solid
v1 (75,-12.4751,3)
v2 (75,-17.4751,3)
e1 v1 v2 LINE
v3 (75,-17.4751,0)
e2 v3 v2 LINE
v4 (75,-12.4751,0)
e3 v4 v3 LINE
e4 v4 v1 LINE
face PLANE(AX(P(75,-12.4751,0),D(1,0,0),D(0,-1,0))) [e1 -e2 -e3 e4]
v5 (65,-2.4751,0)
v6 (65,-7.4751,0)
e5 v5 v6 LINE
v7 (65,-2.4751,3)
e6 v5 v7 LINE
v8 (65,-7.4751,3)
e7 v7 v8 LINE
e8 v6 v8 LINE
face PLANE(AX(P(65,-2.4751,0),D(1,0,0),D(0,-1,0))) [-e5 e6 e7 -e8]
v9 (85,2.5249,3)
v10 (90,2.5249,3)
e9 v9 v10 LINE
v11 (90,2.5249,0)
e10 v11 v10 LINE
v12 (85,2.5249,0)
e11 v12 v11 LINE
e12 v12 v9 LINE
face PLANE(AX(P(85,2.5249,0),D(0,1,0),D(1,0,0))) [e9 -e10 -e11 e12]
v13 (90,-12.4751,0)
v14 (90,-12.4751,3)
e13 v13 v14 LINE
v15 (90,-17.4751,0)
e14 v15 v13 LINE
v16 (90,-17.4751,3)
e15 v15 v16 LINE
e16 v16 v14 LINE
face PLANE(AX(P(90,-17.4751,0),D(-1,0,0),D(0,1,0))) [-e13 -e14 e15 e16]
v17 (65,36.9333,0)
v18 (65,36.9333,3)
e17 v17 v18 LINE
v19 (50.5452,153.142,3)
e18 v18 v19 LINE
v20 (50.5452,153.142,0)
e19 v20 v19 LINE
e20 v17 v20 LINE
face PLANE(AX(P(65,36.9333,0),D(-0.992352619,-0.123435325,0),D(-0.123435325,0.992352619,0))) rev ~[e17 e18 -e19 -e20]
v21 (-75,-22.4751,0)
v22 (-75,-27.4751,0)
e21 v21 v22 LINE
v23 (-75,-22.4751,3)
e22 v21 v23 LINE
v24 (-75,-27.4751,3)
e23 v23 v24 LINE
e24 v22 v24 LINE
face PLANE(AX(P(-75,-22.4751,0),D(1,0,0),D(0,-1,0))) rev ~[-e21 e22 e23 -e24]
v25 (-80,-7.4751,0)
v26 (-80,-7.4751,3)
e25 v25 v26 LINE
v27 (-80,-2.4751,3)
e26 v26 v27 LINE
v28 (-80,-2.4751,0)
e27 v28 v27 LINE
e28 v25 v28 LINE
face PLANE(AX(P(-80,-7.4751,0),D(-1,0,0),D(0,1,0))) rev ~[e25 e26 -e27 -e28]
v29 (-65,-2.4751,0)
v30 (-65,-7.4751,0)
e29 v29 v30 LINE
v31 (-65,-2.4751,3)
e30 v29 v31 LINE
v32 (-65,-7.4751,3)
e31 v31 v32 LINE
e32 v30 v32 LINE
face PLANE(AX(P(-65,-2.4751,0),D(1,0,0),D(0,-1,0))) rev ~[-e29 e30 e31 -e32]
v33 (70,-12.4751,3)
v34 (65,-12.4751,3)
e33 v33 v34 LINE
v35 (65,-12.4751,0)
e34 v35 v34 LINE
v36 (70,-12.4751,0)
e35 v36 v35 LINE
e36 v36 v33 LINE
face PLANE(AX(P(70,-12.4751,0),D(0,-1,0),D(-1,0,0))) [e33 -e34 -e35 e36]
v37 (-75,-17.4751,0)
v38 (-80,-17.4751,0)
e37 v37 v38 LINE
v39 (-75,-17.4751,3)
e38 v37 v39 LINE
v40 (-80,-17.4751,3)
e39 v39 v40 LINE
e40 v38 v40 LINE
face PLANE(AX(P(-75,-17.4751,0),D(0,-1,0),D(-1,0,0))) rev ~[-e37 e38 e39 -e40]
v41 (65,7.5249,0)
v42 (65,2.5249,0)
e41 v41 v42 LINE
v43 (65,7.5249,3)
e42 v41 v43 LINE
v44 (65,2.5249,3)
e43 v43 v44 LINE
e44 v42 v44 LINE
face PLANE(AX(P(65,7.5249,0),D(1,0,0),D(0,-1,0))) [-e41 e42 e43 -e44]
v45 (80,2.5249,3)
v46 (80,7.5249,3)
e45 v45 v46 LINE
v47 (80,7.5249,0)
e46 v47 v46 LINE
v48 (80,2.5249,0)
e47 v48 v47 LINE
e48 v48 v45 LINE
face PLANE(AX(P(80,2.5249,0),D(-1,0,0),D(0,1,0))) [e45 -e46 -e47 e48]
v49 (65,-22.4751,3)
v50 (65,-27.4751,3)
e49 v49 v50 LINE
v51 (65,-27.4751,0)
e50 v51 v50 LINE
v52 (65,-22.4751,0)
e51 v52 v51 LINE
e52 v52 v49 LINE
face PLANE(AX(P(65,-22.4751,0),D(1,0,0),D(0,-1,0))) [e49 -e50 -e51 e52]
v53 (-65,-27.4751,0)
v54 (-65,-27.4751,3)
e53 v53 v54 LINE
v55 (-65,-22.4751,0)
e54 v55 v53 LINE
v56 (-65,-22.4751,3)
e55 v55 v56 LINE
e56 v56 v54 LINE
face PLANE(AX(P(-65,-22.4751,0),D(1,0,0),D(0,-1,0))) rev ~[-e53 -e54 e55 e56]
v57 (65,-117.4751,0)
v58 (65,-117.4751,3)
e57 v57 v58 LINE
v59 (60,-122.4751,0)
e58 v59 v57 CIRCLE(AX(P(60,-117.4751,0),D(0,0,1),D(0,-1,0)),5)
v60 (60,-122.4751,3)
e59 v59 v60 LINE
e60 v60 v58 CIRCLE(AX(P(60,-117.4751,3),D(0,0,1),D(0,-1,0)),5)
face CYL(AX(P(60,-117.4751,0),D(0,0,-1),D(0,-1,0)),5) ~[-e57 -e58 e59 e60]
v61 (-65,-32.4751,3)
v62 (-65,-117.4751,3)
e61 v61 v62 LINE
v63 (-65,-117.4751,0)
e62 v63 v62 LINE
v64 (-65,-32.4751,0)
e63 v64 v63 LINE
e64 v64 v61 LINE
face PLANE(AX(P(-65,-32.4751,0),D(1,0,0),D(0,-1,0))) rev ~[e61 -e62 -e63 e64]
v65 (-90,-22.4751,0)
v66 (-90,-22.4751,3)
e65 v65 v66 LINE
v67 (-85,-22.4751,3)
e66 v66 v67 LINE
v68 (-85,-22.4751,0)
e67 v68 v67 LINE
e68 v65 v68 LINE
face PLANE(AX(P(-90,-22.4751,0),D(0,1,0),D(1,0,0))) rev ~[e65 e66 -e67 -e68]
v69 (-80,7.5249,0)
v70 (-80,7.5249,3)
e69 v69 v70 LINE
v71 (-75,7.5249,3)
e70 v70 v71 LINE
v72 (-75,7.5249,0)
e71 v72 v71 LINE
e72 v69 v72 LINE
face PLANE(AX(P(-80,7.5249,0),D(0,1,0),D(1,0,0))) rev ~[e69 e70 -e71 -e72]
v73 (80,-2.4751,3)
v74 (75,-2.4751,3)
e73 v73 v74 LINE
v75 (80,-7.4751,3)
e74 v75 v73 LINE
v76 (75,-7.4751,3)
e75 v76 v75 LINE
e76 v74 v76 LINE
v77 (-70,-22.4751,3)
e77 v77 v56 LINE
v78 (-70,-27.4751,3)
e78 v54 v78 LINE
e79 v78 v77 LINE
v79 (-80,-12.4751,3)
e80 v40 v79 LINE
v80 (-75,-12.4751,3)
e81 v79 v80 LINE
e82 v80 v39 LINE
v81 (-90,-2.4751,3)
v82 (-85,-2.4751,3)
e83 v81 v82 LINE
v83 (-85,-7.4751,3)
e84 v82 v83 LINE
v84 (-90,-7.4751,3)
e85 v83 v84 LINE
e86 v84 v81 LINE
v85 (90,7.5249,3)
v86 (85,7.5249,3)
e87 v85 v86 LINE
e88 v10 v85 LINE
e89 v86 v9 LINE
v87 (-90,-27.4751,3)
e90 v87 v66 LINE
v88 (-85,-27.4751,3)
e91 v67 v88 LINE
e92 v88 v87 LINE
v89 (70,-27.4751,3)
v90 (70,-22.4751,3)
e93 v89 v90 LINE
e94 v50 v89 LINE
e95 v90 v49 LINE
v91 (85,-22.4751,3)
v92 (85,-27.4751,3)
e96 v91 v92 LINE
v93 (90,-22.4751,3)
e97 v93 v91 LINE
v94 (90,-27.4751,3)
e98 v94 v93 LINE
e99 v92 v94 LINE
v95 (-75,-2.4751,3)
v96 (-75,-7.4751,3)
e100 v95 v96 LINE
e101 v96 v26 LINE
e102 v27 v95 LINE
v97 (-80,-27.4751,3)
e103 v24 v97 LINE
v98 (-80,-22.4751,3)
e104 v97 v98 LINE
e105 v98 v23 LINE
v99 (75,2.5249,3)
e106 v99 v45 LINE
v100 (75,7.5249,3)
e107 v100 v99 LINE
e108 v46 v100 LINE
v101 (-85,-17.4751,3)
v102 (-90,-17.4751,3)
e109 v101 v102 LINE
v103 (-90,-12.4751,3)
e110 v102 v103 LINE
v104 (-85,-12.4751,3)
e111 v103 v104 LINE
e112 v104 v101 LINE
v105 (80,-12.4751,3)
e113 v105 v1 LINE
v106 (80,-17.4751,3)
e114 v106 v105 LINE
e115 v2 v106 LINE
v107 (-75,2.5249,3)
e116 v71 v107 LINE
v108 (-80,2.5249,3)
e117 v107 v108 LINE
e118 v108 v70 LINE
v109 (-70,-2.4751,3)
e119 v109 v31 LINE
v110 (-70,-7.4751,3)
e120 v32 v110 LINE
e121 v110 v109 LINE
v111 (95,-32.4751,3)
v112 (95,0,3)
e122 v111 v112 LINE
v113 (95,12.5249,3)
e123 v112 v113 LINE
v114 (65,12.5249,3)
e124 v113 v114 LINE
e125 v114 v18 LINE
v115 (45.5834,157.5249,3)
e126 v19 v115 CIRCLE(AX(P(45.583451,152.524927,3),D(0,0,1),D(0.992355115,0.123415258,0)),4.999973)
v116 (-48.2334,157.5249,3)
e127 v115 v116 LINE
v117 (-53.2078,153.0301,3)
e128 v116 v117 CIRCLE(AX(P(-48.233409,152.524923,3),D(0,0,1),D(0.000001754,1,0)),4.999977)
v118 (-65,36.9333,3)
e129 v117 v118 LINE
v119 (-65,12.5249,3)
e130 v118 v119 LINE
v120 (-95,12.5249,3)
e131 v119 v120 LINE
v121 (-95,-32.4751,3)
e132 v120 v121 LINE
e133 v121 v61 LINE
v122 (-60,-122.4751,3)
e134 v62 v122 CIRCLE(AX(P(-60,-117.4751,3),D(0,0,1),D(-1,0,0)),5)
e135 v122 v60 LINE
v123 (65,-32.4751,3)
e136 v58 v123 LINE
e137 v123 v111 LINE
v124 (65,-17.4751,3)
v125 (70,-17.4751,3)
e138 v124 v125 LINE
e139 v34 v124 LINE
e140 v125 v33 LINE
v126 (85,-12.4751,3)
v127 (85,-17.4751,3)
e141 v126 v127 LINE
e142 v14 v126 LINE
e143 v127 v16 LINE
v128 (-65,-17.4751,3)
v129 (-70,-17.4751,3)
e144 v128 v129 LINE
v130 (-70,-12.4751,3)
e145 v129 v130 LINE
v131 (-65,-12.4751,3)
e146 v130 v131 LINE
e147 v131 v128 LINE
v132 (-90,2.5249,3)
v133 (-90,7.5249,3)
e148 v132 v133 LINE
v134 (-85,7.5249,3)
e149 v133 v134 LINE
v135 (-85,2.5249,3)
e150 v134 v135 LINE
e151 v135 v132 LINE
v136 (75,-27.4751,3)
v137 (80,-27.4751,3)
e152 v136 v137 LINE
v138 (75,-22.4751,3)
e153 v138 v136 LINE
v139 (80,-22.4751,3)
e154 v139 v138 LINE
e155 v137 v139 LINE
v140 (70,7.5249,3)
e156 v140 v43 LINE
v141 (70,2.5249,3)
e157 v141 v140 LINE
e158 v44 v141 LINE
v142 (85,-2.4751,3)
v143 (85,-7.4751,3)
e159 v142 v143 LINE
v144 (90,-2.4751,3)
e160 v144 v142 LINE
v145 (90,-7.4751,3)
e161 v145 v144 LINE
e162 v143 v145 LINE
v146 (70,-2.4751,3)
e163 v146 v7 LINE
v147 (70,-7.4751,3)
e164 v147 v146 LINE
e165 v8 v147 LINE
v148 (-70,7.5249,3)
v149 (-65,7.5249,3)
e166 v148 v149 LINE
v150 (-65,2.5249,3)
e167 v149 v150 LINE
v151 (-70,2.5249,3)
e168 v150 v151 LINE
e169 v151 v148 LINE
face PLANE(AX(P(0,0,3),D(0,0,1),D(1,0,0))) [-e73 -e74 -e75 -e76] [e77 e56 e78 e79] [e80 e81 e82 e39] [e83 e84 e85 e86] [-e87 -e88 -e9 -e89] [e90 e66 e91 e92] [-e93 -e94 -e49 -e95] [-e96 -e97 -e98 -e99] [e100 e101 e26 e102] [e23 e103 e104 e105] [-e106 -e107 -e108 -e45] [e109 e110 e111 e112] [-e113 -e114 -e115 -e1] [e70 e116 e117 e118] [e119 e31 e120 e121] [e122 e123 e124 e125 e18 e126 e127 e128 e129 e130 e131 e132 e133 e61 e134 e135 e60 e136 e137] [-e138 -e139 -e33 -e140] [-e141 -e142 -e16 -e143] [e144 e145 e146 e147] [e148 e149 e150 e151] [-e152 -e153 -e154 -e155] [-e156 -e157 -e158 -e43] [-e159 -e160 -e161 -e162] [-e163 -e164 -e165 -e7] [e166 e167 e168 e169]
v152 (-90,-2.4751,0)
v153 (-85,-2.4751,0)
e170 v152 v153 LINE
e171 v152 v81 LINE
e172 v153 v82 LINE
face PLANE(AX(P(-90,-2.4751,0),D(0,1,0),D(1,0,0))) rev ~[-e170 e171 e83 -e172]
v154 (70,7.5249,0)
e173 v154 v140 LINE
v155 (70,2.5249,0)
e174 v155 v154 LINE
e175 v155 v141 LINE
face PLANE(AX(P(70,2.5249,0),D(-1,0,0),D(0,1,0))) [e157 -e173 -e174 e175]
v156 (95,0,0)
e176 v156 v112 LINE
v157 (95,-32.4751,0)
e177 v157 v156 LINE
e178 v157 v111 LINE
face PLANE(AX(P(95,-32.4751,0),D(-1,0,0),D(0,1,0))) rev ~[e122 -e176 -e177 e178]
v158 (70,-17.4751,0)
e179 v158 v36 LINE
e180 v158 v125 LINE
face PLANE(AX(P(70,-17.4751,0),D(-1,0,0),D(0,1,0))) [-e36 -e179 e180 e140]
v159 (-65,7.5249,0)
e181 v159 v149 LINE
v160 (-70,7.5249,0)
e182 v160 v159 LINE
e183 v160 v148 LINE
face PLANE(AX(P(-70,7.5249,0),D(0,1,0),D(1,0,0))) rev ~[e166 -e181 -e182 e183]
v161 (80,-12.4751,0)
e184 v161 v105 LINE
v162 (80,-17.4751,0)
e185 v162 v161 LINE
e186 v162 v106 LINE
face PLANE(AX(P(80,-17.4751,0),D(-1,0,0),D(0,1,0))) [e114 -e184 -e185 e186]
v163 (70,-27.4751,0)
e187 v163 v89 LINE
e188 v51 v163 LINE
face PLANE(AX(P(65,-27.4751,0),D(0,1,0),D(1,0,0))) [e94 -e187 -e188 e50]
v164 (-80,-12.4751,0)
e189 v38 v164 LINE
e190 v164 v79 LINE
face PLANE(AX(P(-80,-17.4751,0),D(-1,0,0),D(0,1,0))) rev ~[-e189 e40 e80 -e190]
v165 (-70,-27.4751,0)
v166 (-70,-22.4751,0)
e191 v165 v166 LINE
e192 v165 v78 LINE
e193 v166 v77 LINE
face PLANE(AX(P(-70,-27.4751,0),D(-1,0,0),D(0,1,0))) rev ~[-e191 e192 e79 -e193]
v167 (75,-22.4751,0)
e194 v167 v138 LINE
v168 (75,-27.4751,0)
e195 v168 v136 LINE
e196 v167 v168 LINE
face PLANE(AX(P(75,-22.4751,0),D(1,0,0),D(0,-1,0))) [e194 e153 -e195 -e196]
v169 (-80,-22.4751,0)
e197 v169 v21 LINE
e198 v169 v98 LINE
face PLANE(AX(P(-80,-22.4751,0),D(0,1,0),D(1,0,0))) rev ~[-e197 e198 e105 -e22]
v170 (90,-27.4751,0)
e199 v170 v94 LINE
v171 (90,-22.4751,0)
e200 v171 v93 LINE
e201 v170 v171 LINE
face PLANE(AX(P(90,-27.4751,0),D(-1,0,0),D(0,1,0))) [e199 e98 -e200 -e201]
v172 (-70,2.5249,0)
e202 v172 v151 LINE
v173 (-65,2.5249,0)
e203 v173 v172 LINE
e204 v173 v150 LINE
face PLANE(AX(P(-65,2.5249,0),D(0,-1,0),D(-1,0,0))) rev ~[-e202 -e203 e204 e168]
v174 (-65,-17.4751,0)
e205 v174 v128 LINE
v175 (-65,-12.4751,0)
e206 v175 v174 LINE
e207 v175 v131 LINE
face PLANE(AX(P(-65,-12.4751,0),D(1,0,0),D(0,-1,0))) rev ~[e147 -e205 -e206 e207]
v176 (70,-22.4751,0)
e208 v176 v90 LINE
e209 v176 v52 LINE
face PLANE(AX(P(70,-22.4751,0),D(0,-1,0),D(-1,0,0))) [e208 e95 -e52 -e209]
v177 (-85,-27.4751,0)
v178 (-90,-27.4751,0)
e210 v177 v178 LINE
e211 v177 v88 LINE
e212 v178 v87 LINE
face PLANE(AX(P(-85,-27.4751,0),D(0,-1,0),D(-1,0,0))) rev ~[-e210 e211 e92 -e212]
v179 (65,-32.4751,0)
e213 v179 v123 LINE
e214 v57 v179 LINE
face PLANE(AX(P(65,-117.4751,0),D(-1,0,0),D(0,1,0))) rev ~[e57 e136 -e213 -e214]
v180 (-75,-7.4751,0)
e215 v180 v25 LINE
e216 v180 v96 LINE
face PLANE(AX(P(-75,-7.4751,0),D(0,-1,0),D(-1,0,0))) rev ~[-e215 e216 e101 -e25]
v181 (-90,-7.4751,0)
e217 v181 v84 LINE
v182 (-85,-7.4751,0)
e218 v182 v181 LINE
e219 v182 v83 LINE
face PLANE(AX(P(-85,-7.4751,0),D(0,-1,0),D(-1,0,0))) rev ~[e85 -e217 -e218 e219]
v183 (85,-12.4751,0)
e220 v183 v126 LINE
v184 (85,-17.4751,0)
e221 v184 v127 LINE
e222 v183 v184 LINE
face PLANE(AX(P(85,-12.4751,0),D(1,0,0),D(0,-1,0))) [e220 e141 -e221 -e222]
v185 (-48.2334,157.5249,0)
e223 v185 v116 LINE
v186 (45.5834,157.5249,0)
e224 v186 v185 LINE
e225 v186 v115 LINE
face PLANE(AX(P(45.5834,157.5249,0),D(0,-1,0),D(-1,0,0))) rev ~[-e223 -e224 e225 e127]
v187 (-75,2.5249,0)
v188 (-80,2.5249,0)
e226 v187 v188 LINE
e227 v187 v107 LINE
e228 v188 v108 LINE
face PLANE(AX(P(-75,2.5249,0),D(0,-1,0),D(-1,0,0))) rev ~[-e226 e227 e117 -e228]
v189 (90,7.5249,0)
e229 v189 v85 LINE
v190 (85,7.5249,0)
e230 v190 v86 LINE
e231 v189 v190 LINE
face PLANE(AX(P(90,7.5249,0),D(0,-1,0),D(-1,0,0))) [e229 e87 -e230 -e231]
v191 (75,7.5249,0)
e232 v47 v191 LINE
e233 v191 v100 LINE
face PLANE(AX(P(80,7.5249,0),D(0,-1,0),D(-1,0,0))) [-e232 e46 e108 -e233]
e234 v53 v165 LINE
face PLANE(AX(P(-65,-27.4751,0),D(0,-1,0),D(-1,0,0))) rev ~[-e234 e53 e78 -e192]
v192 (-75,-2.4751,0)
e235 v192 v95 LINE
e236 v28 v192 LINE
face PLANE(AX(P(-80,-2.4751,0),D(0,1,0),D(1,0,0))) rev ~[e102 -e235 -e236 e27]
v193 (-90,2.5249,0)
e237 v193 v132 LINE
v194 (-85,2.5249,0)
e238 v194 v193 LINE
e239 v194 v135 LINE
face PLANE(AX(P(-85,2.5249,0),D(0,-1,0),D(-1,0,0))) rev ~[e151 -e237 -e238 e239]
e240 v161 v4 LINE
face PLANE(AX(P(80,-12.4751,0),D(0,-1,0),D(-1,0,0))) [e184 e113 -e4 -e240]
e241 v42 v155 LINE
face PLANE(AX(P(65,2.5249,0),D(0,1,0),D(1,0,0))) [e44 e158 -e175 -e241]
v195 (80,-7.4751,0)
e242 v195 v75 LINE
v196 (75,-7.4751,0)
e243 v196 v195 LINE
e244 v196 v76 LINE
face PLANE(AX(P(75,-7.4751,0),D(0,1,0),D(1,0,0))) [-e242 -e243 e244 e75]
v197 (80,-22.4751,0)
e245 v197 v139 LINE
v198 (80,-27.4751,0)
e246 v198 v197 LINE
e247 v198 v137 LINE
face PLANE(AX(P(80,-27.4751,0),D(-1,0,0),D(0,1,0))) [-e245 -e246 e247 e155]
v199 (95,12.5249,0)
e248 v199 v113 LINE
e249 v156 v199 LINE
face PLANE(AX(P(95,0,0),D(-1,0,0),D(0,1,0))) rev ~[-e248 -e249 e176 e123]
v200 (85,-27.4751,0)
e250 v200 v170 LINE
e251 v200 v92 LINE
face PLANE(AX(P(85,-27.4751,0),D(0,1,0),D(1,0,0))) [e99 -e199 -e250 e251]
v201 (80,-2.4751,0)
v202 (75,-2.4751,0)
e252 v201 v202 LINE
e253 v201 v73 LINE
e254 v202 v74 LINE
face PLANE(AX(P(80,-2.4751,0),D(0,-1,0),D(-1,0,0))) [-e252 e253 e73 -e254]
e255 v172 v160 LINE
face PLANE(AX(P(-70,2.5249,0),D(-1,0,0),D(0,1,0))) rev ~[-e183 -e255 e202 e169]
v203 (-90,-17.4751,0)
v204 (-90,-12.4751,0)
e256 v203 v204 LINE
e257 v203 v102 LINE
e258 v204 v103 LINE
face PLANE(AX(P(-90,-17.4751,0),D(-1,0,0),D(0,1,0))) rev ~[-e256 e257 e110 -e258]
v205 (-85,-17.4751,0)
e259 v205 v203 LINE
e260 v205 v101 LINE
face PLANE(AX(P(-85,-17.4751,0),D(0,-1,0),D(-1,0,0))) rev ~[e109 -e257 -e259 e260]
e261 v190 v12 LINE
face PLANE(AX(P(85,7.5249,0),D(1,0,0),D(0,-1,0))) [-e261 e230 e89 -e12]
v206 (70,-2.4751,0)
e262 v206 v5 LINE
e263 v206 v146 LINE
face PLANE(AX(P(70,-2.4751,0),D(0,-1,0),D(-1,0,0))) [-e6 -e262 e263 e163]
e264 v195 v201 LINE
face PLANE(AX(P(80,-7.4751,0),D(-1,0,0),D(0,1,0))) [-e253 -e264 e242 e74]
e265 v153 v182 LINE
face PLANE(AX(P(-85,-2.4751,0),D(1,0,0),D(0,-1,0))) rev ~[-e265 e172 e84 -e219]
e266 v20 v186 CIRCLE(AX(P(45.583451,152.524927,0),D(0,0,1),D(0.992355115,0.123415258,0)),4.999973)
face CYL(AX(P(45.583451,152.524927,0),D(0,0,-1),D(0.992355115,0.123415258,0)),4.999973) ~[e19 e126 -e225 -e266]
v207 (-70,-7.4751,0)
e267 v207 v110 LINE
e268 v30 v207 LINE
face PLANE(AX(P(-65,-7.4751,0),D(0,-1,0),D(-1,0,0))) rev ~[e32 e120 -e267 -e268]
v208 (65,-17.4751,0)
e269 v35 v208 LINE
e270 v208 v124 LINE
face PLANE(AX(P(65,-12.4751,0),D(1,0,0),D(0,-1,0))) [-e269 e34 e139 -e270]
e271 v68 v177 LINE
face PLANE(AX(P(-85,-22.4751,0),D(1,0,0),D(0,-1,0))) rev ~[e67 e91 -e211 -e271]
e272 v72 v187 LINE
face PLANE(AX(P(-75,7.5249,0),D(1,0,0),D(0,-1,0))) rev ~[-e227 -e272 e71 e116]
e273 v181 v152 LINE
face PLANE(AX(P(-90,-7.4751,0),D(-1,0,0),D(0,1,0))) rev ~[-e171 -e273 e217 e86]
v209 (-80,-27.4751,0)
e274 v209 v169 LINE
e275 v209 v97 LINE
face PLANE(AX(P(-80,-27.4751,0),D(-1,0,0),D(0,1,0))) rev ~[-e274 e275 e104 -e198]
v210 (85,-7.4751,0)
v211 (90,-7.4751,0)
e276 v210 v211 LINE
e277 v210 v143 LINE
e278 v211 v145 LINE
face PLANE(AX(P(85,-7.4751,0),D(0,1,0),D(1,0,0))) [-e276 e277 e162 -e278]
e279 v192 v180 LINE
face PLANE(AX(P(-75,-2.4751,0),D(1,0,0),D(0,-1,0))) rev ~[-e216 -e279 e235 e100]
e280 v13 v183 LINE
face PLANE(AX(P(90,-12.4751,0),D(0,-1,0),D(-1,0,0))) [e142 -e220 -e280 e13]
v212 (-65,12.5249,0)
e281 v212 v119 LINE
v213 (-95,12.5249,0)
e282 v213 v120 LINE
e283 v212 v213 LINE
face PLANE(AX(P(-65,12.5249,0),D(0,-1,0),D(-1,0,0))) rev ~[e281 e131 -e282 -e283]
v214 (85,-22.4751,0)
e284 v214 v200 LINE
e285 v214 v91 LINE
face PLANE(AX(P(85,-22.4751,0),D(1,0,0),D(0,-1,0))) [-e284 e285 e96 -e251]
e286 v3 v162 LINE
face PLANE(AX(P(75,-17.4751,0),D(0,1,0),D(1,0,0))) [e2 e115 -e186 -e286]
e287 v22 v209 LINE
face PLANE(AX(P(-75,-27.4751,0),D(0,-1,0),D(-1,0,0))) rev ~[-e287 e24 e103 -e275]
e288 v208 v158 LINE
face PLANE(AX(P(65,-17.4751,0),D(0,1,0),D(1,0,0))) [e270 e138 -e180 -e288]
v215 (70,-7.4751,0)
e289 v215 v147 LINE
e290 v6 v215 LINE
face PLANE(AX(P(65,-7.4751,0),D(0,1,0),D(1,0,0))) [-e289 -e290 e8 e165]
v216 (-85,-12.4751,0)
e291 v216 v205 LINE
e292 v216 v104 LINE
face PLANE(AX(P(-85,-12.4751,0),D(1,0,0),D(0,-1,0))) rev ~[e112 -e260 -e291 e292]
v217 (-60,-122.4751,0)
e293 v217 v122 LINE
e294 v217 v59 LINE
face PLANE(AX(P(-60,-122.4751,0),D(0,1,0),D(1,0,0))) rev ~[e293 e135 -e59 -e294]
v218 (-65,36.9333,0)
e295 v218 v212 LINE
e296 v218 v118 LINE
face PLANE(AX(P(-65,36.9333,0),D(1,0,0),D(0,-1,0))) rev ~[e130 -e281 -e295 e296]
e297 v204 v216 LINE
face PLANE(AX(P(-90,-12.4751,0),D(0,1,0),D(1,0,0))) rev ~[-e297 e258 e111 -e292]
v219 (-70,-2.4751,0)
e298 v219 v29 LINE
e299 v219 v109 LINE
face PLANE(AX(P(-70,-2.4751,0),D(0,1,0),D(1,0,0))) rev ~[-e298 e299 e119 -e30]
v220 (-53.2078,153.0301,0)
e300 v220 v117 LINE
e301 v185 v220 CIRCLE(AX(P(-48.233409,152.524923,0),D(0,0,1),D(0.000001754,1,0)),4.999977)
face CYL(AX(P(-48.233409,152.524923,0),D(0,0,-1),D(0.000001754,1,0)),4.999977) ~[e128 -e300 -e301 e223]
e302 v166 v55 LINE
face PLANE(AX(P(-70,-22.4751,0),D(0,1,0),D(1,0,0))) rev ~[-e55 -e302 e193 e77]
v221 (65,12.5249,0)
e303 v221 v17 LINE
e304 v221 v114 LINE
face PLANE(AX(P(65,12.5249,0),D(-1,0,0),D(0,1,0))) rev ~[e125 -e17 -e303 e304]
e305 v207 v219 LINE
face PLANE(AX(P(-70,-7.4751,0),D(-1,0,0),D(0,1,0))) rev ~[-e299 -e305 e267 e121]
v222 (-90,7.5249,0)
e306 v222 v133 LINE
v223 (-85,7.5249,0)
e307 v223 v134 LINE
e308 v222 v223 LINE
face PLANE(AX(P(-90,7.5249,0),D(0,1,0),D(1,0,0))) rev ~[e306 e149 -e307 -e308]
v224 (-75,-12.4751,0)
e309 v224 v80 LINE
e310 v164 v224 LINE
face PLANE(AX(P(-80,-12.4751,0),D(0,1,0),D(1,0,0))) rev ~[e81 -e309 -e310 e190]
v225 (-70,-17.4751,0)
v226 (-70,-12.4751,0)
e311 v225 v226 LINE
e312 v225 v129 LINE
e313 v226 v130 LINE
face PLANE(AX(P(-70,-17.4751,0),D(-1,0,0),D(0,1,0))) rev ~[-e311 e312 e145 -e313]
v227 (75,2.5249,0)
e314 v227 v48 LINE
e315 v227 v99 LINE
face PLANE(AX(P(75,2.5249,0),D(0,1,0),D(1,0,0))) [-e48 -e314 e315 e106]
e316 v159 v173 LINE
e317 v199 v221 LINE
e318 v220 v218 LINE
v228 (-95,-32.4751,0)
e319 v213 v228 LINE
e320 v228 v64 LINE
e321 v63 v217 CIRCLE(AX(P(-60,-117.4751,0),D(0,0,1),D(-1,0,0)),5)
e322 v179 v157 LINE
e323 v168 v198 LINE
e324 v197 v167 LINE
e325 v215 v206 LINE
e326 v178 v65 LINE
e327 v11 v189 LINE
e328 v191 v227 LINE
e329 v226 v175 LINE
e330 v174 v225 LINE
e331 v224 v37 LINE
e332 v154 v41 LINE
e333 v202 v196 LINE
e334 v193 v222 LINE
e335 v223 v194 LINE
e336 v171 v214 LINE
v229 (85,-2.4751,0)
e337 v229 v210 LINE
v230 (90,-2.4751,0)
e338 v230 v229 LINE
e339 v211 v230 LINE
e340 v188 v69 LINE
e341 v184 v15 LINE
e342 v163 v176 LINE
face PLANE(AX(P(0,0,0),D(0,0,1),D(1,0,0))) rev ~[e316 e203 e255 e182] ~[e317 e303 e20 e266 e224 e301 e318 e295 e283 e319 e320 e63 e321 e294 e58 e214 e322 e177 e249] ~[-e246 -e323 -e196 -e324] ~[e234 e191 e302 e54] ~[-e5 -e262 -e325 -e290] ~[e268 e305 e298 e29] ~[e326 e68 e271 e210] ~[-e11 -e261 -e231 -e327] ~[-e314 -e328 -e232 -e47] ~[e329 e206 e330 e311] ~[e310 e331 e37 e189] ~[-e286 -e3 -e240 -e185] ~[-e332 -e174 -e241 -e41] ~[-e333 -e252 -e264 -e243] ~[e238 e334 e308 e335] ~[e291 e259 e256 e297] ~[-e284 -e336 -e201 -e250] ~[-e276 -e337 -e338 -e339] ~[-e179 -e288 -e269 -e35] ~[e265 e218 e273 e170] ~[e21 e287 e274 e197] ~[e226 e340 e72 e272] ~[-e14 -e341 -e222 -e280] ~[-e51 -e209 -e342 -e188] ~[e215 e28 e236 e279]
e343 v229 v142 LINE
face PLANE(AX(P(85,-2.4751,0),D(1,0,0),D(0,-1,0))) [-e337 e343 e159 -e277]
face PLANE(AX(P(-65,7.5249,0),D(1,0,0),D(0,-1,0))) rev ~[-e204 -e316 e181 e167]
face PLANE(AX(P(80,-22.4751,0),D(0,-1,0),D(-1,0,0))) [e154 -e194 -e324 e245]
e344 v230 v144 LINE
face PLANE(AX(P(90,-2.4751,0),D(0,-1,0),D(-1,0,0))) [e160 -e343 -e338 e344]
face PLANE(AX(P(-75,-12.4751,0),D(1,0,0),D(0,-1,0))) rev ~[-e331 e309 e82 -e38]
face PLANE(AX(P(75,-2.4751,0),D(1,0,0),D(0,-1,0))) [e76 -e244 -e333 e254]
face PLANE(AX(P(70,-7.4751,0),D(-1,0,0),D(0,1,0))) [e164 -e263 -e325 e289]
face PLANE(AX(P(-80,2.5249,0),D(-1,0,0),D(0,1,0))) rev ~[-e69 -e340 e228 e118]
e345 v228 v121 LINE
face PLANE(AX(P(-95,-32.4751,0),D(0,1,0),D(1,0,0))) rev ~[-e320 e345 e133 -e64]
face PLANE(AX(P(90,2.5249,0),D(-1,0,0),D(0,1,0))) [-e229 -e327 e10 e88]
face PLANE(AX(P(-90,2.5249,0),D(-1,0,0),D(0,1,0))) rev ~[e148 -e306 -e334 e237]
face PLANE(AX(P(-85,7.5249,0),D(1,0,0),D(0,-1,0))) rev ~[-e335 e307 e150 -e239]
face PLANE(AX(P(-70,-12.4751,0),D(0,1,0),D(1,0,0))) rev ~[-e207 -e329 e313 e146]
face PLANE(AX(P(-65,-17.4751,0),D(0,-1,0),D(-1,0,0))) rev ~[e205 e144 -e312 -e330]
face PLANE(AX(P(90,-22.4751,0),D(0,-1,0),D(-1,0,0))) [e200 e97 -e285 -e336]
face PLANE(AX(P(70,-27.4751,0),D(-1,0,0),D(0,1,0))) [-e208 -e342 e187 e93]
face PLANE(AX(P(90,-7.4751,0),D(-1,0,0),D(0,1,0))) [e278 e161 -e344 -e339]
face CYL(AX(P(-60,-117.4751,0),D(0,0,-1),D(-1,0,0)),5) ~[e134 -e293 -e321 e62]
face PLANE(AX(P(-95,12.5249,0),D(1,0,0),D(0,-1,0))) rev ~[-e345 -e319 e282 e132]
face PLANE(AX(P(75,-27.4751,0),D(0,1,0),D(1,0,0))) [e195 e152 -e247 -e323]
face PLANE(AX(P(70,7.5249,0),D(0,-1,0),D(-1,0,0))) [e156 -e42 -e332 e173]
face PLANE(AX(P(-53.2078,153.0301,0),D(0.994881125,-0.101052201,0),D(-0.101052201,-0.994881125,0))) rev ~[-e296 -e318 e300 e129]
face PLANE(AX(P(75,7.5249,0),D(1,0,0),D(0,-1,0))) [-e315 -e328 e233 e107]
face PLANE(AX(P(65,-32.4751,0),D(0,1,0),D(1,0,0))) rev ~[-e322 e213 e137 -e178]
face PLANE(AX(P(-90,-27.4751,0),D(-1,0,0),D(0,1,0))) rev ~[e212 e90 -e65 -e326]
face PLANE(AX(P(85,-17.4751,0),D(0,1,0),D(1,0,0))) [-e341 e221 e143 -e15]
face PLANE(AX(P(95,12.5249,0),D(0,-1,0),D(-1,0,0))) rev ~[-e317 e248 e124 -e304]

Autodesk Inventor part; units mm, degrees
ref_plane "YZ Plane" through (0, 0, 0) normal (1, 0, 0) x (0, 1, 0)
ref_plane "XZ Plane" through (0, 0, 0) normal (0, 1, 0) x (-1, 0, 0)
ref_plane "XY Plane" through (0, 0, 0) normal (0, 0, 1) x (1, 0, 0)
sketch "Sketch1" plane through (0, 0, 0) normal (0, 0, 1) x (1, 0, 0)
  line L0 (-150, 243.8158) -> (150, 243.8158) construction
  line L1 (150, 243.8158) -> (150, -220) construction
  line L2 (150, -220) -> (-150, -220) construction
  line L3 (-150, -220) -> (-150, 243.8158) construction
  line L4 (0, 0) -> (220, 0)
  line L5 (-60, -122.4751) -> (60, -122.4751)
  line L6 (65, -117.4751) -> (65, -32.4751)
  line L7 (65, -32.4751) -> (95, -32.4751)
  line L8 (95, -32.4751) -> (95, 12.5249)
  line L9 (95, 12.5249) -> (65, 12.5249)
  line L10 (65, 12.5249) -> (65, 36.9333)
  line L11 (45.5834, 157.5249) -> (-48.2334, 157.5249)
  line L12 (-53.2078, 153.0301) -> (-65, 36.9333)
  line L13 (-65, 12.5249) -> (-95, 12.5249)
  line L14 (-95, 12.5249) -> (-95, -32.4751)
  line L15 (-95, -32.4751) -> (-65, -32.4751)
  line L16 (-65, -32.4751) -> (-65, -117.4751)
  line L17 (-90, 7.5249) -> (-85, 7.5249)
  line L18 (-85, 7.5249) -> (-85, 2.5249)
  line L19 (-85, 2.5249) -> (-90, 2.5249)
  line L20 (-90, 2.5249) -> (-90, 7.5249)
  line L21 (-90, -7.4751) -> (-90, -2.4751)
  line L22 (-90, -2.4751) -> (-85, -2.4751)
  line L23 (-85, -2.4751) -> (-85, -7.4751)
  line L24 (-85, -7.4751) -> (-90, -7.4751)
  line L25 (-90, -17.4751) -> (-90, -12.4751)
  line L26 (-90, -12.4751) -> (-85, -12.4751)
  line L27 (-85, -12.4751) -> (-85, -17.4751)
  line L28 (-85, -17.4751) -> (-90, -17.4751)
  line L29 (-90, -27.4751) -> (-90, -22.4751)
  line L30 (-90, -22.4751) -> (-85, -22.4751)
  line L31 (-85, -22.4751) -> (-85, -27.4751)
  line L32 (-85, -27.4751) -> (-90, -27.4751)
  line L33 (-80, 2.5249) -> (-80, 7.5249)
  line L34 (-80, 7.5249) -> (-75, 7.5249)
  line L35 (-75, 7.5249) -> (-75, 2.5249)
  line L36 (-75, 2.5249) -> (-80, 2.5249)
  line L37 (-80, -7.4751) -> (-80, -2.4751)
  line L38 (-80, -2.4751) -> (-75, -2.4751)
  line L39 (-75, -2.4751) -> (-75, -7.4751)
  line L40 (-75, -7.4751) -> (-80, -7.4751)
  line L41 (-80, -17.4751) -> (-80, -12.4751)
  line L42 (-80, -12.4751) -> (-75, -12.4751)
  line L43 (-75, -12.4751) -> (-75, -17.4751)
  line L44 (-75, -17.4751) -> (-80, -17.4751)
  line L45 (-80, -27.4751) -> (-80, -22.4751)
  line L46 (-80, -22.4751) -> (-75, -22.4751)
  line L47 (-75, -22.4751) -> (-75, -27.4751)
  line L48 (-75, -27.4751) -> (-80, -27.4751)
  line L49 (-70, 2.5249) -> (-70, 7.5249)
  line L50 (-70, 7.5249) -> (-65, 7.5249)
  line L51 (-65, 7.5249) -> (-65, 2.5249)
  line L52 (-65, 2.5249) -> (-70, 2.5249)
  line L53 (-70, -7.4751) -> (-70, -2.4751)
  line L54 (-70, -2.4751) -> (-65, -2.4751)
  line L55 (-65, -2.4751) -> (-65, -7.4751)
  line L56 (-65, -7.4751) -> (-70, -7.4751)
  line L57 (-70, -17.4751) -> (-70, -12.4751)
  line L58 (-70, -12.4751) -> (-65, -12.4751)
  line L59 (-65, -12.4751) -> (-65, -17.4751)
  line L60 (-65, -17.4751) -> (-70, -17.4751)
  line L61 (-70, -27.4751) -> (-70, -22.4751)
  line L62 (-70, -22.4751) -> (-65, -22.4751)
  line L63 (-65, -22.4751) -> (-65, -27.4751)
  line L64 (-65, -27.4751) -> (-70, -27.4751)
  line L65 (0, -285.0452) -> (0, 260.9735) construction
  line L66 (90, 7.5249) -> (85, 7.5249)
  line L67 (85, 7.5249) -> (85, 2.5249)
  line L68 (85, 2.5249) -> (90, 2.5249)
  line L69 (90, 2.5249) -> (90, 7.5249)
  line L70 (90, -7.4751) -> (90, -2.4751)
  line L71 (90, -2.4751) -> (85, -2.4751)
  line L72 (85, -2.4751) -> (85, -7.4751)
  line L73 (85, -7.4751) -> (90, -7.4751)
  line L74 (90, -17.4751) -> (90, -12.4751)
  line L75 (90, -12.4751) -> (85, -12.4751)
  line L76 (85, -12.4751) -> (85, -17.4751)
  line L77 (85, -17.4751) -> (90, -17.4751)
  line L78 (90, -27.4751) -> (90, -22.4751)
  line L79 (90, -22.4751) -> (85, -22.4751)
  line L80 (85, -22.4751) -> (85, -27.4751)
  line L81 (85, -27.4751) -> (90, -27.4751)
  line L82 (80, 2.5249) -> (80, 7.5249)
  line L83 (80, 7.5249) -> (75, 7.5249)
  line L84 (75, 7.5249) -> (75, 2.5249)
  line L85 (75, 2.5249) -> (80, 2.5249)
  line L86 (80, -7.4751) -> (80, -2.4751)
  line L87 (80, -2.4751) -> (75, -2.4751)
  line L88 (75, -2.4751) -> (75, -7.4751)
  line L89 (75, -7.4751) -> (80, -7.4751)
  line L90 (80, -17.4751) -> (80, -12.4751)
  line L91 (80, -12.4751) -> (75, -12.4751)
  line L92 (75, -12.4751) -> (75, -17.4751)
  line L93 (75, -17.4751) -> (80, -17.4751)
  line L94 (80, -27.4751) -> (80, -22.4751)
  line L95 (80, -22.4751) -> (75, -22.4751)
  line L96 (75, -22.4751) -> (75, -27.4751)
  line L97 (75, -27.4751) -> (80, -27.4751)
  line L98 (70, 2.5249) -> (70, 7.5249)
  line L99 (70, 7.5249) -> (65, 7.5249)
  line L100 (65, 7.5249) -> (65, 2.5249)
  line L101 (65, 2.5249) -> (70, 2.5249)
  line L102 (70, -7.4751) -> (70, -2.4751)
  line L103 (70, -2.4751) -> (65, -2.4751)
  line L104 (65, -2.4751) -> (65, -7.4751)
  line L105 (65, -7.4751) -> (70, -7.4751)
  line L106 (70, -17.4751) -> (70, -12.4751)
  line L107 (70, -12.4751) -> (65, -12.4751)
  line L108 (65, -12.4751) -> (65, -17.4751)
  line L109 (65, -17.4751) -> (70, -17.4751)
  line L110 (70, -27.4751) -> (70, -22.4751)
  line L111 (70, -22.4751) -> (65, -22.4751)
  line L112 (65, -22.4751) -> (65, -27.4751)
  line L113 (65, -27.4751) -> (70, -27.4751)
  line L114 (-65, 36.9333) -> (-65, 12.5249)
  line L115 (65, 36.9333) -> (50.5452, 153.142)
  arc A0 (-48.2334, 157.5249) -> (-53.2078, 153.0301) centre (-48.2334, 152.5249) ccw
  arc A1 (50.5452, 153.142) -> (45.5834, 157.5249) centre (45.5834, 152.5249) ccw
  arc A2 (-65, -117.4751) -> (-60, -122.4751) centre (-60, -117.4751) ccw
  arc A3 (60, -122.4751) -> (65, -117.4751) centre (60, -117.4751) ccw
  point P0 (-65, -122.4751)
  point P1 (65, -122.4751)
  point P2 (50, 157.5249)
  point P3 (-52.7512, 157.5249)
  dimension "d3" = 220
  dimension "d6" = 150
  dimension "d7" = 300
  dimension "d8" = 220
  dimension "d10" = 130
  dimension "d11" = 65
  dimension "d14" = 30
  dimension "d15" = 30
  dimension "d16" = 45
  dimension "d18" = 122.4751
  dimension "d19" = 280
  dimension "d20" = 90
  dimension "d21" = 30
  dimension "d22" = 5
  dimension "d23" = 5
  dimension "d24" = 5
  dimension "d25" = 5
  dimension "d32" = 463.8158
  dimension "d35" = 10
  dimension "d38" = 10
  dimension "d43" = 5
  dimension "d52" = 24.4085
  dimension "d60" = 5
  dimension "d61" = 5
extrude "Extrusion1" add sketch "Sketch1" along normal blind 3
equation "\"d6\" = 0.5 * d7"
equation "\"d11\" = 0.5 * d10"
equation "\"d15\" = d14"
equation "\"d21\" = d15"
properties part number "Base" material "Acrylic"
